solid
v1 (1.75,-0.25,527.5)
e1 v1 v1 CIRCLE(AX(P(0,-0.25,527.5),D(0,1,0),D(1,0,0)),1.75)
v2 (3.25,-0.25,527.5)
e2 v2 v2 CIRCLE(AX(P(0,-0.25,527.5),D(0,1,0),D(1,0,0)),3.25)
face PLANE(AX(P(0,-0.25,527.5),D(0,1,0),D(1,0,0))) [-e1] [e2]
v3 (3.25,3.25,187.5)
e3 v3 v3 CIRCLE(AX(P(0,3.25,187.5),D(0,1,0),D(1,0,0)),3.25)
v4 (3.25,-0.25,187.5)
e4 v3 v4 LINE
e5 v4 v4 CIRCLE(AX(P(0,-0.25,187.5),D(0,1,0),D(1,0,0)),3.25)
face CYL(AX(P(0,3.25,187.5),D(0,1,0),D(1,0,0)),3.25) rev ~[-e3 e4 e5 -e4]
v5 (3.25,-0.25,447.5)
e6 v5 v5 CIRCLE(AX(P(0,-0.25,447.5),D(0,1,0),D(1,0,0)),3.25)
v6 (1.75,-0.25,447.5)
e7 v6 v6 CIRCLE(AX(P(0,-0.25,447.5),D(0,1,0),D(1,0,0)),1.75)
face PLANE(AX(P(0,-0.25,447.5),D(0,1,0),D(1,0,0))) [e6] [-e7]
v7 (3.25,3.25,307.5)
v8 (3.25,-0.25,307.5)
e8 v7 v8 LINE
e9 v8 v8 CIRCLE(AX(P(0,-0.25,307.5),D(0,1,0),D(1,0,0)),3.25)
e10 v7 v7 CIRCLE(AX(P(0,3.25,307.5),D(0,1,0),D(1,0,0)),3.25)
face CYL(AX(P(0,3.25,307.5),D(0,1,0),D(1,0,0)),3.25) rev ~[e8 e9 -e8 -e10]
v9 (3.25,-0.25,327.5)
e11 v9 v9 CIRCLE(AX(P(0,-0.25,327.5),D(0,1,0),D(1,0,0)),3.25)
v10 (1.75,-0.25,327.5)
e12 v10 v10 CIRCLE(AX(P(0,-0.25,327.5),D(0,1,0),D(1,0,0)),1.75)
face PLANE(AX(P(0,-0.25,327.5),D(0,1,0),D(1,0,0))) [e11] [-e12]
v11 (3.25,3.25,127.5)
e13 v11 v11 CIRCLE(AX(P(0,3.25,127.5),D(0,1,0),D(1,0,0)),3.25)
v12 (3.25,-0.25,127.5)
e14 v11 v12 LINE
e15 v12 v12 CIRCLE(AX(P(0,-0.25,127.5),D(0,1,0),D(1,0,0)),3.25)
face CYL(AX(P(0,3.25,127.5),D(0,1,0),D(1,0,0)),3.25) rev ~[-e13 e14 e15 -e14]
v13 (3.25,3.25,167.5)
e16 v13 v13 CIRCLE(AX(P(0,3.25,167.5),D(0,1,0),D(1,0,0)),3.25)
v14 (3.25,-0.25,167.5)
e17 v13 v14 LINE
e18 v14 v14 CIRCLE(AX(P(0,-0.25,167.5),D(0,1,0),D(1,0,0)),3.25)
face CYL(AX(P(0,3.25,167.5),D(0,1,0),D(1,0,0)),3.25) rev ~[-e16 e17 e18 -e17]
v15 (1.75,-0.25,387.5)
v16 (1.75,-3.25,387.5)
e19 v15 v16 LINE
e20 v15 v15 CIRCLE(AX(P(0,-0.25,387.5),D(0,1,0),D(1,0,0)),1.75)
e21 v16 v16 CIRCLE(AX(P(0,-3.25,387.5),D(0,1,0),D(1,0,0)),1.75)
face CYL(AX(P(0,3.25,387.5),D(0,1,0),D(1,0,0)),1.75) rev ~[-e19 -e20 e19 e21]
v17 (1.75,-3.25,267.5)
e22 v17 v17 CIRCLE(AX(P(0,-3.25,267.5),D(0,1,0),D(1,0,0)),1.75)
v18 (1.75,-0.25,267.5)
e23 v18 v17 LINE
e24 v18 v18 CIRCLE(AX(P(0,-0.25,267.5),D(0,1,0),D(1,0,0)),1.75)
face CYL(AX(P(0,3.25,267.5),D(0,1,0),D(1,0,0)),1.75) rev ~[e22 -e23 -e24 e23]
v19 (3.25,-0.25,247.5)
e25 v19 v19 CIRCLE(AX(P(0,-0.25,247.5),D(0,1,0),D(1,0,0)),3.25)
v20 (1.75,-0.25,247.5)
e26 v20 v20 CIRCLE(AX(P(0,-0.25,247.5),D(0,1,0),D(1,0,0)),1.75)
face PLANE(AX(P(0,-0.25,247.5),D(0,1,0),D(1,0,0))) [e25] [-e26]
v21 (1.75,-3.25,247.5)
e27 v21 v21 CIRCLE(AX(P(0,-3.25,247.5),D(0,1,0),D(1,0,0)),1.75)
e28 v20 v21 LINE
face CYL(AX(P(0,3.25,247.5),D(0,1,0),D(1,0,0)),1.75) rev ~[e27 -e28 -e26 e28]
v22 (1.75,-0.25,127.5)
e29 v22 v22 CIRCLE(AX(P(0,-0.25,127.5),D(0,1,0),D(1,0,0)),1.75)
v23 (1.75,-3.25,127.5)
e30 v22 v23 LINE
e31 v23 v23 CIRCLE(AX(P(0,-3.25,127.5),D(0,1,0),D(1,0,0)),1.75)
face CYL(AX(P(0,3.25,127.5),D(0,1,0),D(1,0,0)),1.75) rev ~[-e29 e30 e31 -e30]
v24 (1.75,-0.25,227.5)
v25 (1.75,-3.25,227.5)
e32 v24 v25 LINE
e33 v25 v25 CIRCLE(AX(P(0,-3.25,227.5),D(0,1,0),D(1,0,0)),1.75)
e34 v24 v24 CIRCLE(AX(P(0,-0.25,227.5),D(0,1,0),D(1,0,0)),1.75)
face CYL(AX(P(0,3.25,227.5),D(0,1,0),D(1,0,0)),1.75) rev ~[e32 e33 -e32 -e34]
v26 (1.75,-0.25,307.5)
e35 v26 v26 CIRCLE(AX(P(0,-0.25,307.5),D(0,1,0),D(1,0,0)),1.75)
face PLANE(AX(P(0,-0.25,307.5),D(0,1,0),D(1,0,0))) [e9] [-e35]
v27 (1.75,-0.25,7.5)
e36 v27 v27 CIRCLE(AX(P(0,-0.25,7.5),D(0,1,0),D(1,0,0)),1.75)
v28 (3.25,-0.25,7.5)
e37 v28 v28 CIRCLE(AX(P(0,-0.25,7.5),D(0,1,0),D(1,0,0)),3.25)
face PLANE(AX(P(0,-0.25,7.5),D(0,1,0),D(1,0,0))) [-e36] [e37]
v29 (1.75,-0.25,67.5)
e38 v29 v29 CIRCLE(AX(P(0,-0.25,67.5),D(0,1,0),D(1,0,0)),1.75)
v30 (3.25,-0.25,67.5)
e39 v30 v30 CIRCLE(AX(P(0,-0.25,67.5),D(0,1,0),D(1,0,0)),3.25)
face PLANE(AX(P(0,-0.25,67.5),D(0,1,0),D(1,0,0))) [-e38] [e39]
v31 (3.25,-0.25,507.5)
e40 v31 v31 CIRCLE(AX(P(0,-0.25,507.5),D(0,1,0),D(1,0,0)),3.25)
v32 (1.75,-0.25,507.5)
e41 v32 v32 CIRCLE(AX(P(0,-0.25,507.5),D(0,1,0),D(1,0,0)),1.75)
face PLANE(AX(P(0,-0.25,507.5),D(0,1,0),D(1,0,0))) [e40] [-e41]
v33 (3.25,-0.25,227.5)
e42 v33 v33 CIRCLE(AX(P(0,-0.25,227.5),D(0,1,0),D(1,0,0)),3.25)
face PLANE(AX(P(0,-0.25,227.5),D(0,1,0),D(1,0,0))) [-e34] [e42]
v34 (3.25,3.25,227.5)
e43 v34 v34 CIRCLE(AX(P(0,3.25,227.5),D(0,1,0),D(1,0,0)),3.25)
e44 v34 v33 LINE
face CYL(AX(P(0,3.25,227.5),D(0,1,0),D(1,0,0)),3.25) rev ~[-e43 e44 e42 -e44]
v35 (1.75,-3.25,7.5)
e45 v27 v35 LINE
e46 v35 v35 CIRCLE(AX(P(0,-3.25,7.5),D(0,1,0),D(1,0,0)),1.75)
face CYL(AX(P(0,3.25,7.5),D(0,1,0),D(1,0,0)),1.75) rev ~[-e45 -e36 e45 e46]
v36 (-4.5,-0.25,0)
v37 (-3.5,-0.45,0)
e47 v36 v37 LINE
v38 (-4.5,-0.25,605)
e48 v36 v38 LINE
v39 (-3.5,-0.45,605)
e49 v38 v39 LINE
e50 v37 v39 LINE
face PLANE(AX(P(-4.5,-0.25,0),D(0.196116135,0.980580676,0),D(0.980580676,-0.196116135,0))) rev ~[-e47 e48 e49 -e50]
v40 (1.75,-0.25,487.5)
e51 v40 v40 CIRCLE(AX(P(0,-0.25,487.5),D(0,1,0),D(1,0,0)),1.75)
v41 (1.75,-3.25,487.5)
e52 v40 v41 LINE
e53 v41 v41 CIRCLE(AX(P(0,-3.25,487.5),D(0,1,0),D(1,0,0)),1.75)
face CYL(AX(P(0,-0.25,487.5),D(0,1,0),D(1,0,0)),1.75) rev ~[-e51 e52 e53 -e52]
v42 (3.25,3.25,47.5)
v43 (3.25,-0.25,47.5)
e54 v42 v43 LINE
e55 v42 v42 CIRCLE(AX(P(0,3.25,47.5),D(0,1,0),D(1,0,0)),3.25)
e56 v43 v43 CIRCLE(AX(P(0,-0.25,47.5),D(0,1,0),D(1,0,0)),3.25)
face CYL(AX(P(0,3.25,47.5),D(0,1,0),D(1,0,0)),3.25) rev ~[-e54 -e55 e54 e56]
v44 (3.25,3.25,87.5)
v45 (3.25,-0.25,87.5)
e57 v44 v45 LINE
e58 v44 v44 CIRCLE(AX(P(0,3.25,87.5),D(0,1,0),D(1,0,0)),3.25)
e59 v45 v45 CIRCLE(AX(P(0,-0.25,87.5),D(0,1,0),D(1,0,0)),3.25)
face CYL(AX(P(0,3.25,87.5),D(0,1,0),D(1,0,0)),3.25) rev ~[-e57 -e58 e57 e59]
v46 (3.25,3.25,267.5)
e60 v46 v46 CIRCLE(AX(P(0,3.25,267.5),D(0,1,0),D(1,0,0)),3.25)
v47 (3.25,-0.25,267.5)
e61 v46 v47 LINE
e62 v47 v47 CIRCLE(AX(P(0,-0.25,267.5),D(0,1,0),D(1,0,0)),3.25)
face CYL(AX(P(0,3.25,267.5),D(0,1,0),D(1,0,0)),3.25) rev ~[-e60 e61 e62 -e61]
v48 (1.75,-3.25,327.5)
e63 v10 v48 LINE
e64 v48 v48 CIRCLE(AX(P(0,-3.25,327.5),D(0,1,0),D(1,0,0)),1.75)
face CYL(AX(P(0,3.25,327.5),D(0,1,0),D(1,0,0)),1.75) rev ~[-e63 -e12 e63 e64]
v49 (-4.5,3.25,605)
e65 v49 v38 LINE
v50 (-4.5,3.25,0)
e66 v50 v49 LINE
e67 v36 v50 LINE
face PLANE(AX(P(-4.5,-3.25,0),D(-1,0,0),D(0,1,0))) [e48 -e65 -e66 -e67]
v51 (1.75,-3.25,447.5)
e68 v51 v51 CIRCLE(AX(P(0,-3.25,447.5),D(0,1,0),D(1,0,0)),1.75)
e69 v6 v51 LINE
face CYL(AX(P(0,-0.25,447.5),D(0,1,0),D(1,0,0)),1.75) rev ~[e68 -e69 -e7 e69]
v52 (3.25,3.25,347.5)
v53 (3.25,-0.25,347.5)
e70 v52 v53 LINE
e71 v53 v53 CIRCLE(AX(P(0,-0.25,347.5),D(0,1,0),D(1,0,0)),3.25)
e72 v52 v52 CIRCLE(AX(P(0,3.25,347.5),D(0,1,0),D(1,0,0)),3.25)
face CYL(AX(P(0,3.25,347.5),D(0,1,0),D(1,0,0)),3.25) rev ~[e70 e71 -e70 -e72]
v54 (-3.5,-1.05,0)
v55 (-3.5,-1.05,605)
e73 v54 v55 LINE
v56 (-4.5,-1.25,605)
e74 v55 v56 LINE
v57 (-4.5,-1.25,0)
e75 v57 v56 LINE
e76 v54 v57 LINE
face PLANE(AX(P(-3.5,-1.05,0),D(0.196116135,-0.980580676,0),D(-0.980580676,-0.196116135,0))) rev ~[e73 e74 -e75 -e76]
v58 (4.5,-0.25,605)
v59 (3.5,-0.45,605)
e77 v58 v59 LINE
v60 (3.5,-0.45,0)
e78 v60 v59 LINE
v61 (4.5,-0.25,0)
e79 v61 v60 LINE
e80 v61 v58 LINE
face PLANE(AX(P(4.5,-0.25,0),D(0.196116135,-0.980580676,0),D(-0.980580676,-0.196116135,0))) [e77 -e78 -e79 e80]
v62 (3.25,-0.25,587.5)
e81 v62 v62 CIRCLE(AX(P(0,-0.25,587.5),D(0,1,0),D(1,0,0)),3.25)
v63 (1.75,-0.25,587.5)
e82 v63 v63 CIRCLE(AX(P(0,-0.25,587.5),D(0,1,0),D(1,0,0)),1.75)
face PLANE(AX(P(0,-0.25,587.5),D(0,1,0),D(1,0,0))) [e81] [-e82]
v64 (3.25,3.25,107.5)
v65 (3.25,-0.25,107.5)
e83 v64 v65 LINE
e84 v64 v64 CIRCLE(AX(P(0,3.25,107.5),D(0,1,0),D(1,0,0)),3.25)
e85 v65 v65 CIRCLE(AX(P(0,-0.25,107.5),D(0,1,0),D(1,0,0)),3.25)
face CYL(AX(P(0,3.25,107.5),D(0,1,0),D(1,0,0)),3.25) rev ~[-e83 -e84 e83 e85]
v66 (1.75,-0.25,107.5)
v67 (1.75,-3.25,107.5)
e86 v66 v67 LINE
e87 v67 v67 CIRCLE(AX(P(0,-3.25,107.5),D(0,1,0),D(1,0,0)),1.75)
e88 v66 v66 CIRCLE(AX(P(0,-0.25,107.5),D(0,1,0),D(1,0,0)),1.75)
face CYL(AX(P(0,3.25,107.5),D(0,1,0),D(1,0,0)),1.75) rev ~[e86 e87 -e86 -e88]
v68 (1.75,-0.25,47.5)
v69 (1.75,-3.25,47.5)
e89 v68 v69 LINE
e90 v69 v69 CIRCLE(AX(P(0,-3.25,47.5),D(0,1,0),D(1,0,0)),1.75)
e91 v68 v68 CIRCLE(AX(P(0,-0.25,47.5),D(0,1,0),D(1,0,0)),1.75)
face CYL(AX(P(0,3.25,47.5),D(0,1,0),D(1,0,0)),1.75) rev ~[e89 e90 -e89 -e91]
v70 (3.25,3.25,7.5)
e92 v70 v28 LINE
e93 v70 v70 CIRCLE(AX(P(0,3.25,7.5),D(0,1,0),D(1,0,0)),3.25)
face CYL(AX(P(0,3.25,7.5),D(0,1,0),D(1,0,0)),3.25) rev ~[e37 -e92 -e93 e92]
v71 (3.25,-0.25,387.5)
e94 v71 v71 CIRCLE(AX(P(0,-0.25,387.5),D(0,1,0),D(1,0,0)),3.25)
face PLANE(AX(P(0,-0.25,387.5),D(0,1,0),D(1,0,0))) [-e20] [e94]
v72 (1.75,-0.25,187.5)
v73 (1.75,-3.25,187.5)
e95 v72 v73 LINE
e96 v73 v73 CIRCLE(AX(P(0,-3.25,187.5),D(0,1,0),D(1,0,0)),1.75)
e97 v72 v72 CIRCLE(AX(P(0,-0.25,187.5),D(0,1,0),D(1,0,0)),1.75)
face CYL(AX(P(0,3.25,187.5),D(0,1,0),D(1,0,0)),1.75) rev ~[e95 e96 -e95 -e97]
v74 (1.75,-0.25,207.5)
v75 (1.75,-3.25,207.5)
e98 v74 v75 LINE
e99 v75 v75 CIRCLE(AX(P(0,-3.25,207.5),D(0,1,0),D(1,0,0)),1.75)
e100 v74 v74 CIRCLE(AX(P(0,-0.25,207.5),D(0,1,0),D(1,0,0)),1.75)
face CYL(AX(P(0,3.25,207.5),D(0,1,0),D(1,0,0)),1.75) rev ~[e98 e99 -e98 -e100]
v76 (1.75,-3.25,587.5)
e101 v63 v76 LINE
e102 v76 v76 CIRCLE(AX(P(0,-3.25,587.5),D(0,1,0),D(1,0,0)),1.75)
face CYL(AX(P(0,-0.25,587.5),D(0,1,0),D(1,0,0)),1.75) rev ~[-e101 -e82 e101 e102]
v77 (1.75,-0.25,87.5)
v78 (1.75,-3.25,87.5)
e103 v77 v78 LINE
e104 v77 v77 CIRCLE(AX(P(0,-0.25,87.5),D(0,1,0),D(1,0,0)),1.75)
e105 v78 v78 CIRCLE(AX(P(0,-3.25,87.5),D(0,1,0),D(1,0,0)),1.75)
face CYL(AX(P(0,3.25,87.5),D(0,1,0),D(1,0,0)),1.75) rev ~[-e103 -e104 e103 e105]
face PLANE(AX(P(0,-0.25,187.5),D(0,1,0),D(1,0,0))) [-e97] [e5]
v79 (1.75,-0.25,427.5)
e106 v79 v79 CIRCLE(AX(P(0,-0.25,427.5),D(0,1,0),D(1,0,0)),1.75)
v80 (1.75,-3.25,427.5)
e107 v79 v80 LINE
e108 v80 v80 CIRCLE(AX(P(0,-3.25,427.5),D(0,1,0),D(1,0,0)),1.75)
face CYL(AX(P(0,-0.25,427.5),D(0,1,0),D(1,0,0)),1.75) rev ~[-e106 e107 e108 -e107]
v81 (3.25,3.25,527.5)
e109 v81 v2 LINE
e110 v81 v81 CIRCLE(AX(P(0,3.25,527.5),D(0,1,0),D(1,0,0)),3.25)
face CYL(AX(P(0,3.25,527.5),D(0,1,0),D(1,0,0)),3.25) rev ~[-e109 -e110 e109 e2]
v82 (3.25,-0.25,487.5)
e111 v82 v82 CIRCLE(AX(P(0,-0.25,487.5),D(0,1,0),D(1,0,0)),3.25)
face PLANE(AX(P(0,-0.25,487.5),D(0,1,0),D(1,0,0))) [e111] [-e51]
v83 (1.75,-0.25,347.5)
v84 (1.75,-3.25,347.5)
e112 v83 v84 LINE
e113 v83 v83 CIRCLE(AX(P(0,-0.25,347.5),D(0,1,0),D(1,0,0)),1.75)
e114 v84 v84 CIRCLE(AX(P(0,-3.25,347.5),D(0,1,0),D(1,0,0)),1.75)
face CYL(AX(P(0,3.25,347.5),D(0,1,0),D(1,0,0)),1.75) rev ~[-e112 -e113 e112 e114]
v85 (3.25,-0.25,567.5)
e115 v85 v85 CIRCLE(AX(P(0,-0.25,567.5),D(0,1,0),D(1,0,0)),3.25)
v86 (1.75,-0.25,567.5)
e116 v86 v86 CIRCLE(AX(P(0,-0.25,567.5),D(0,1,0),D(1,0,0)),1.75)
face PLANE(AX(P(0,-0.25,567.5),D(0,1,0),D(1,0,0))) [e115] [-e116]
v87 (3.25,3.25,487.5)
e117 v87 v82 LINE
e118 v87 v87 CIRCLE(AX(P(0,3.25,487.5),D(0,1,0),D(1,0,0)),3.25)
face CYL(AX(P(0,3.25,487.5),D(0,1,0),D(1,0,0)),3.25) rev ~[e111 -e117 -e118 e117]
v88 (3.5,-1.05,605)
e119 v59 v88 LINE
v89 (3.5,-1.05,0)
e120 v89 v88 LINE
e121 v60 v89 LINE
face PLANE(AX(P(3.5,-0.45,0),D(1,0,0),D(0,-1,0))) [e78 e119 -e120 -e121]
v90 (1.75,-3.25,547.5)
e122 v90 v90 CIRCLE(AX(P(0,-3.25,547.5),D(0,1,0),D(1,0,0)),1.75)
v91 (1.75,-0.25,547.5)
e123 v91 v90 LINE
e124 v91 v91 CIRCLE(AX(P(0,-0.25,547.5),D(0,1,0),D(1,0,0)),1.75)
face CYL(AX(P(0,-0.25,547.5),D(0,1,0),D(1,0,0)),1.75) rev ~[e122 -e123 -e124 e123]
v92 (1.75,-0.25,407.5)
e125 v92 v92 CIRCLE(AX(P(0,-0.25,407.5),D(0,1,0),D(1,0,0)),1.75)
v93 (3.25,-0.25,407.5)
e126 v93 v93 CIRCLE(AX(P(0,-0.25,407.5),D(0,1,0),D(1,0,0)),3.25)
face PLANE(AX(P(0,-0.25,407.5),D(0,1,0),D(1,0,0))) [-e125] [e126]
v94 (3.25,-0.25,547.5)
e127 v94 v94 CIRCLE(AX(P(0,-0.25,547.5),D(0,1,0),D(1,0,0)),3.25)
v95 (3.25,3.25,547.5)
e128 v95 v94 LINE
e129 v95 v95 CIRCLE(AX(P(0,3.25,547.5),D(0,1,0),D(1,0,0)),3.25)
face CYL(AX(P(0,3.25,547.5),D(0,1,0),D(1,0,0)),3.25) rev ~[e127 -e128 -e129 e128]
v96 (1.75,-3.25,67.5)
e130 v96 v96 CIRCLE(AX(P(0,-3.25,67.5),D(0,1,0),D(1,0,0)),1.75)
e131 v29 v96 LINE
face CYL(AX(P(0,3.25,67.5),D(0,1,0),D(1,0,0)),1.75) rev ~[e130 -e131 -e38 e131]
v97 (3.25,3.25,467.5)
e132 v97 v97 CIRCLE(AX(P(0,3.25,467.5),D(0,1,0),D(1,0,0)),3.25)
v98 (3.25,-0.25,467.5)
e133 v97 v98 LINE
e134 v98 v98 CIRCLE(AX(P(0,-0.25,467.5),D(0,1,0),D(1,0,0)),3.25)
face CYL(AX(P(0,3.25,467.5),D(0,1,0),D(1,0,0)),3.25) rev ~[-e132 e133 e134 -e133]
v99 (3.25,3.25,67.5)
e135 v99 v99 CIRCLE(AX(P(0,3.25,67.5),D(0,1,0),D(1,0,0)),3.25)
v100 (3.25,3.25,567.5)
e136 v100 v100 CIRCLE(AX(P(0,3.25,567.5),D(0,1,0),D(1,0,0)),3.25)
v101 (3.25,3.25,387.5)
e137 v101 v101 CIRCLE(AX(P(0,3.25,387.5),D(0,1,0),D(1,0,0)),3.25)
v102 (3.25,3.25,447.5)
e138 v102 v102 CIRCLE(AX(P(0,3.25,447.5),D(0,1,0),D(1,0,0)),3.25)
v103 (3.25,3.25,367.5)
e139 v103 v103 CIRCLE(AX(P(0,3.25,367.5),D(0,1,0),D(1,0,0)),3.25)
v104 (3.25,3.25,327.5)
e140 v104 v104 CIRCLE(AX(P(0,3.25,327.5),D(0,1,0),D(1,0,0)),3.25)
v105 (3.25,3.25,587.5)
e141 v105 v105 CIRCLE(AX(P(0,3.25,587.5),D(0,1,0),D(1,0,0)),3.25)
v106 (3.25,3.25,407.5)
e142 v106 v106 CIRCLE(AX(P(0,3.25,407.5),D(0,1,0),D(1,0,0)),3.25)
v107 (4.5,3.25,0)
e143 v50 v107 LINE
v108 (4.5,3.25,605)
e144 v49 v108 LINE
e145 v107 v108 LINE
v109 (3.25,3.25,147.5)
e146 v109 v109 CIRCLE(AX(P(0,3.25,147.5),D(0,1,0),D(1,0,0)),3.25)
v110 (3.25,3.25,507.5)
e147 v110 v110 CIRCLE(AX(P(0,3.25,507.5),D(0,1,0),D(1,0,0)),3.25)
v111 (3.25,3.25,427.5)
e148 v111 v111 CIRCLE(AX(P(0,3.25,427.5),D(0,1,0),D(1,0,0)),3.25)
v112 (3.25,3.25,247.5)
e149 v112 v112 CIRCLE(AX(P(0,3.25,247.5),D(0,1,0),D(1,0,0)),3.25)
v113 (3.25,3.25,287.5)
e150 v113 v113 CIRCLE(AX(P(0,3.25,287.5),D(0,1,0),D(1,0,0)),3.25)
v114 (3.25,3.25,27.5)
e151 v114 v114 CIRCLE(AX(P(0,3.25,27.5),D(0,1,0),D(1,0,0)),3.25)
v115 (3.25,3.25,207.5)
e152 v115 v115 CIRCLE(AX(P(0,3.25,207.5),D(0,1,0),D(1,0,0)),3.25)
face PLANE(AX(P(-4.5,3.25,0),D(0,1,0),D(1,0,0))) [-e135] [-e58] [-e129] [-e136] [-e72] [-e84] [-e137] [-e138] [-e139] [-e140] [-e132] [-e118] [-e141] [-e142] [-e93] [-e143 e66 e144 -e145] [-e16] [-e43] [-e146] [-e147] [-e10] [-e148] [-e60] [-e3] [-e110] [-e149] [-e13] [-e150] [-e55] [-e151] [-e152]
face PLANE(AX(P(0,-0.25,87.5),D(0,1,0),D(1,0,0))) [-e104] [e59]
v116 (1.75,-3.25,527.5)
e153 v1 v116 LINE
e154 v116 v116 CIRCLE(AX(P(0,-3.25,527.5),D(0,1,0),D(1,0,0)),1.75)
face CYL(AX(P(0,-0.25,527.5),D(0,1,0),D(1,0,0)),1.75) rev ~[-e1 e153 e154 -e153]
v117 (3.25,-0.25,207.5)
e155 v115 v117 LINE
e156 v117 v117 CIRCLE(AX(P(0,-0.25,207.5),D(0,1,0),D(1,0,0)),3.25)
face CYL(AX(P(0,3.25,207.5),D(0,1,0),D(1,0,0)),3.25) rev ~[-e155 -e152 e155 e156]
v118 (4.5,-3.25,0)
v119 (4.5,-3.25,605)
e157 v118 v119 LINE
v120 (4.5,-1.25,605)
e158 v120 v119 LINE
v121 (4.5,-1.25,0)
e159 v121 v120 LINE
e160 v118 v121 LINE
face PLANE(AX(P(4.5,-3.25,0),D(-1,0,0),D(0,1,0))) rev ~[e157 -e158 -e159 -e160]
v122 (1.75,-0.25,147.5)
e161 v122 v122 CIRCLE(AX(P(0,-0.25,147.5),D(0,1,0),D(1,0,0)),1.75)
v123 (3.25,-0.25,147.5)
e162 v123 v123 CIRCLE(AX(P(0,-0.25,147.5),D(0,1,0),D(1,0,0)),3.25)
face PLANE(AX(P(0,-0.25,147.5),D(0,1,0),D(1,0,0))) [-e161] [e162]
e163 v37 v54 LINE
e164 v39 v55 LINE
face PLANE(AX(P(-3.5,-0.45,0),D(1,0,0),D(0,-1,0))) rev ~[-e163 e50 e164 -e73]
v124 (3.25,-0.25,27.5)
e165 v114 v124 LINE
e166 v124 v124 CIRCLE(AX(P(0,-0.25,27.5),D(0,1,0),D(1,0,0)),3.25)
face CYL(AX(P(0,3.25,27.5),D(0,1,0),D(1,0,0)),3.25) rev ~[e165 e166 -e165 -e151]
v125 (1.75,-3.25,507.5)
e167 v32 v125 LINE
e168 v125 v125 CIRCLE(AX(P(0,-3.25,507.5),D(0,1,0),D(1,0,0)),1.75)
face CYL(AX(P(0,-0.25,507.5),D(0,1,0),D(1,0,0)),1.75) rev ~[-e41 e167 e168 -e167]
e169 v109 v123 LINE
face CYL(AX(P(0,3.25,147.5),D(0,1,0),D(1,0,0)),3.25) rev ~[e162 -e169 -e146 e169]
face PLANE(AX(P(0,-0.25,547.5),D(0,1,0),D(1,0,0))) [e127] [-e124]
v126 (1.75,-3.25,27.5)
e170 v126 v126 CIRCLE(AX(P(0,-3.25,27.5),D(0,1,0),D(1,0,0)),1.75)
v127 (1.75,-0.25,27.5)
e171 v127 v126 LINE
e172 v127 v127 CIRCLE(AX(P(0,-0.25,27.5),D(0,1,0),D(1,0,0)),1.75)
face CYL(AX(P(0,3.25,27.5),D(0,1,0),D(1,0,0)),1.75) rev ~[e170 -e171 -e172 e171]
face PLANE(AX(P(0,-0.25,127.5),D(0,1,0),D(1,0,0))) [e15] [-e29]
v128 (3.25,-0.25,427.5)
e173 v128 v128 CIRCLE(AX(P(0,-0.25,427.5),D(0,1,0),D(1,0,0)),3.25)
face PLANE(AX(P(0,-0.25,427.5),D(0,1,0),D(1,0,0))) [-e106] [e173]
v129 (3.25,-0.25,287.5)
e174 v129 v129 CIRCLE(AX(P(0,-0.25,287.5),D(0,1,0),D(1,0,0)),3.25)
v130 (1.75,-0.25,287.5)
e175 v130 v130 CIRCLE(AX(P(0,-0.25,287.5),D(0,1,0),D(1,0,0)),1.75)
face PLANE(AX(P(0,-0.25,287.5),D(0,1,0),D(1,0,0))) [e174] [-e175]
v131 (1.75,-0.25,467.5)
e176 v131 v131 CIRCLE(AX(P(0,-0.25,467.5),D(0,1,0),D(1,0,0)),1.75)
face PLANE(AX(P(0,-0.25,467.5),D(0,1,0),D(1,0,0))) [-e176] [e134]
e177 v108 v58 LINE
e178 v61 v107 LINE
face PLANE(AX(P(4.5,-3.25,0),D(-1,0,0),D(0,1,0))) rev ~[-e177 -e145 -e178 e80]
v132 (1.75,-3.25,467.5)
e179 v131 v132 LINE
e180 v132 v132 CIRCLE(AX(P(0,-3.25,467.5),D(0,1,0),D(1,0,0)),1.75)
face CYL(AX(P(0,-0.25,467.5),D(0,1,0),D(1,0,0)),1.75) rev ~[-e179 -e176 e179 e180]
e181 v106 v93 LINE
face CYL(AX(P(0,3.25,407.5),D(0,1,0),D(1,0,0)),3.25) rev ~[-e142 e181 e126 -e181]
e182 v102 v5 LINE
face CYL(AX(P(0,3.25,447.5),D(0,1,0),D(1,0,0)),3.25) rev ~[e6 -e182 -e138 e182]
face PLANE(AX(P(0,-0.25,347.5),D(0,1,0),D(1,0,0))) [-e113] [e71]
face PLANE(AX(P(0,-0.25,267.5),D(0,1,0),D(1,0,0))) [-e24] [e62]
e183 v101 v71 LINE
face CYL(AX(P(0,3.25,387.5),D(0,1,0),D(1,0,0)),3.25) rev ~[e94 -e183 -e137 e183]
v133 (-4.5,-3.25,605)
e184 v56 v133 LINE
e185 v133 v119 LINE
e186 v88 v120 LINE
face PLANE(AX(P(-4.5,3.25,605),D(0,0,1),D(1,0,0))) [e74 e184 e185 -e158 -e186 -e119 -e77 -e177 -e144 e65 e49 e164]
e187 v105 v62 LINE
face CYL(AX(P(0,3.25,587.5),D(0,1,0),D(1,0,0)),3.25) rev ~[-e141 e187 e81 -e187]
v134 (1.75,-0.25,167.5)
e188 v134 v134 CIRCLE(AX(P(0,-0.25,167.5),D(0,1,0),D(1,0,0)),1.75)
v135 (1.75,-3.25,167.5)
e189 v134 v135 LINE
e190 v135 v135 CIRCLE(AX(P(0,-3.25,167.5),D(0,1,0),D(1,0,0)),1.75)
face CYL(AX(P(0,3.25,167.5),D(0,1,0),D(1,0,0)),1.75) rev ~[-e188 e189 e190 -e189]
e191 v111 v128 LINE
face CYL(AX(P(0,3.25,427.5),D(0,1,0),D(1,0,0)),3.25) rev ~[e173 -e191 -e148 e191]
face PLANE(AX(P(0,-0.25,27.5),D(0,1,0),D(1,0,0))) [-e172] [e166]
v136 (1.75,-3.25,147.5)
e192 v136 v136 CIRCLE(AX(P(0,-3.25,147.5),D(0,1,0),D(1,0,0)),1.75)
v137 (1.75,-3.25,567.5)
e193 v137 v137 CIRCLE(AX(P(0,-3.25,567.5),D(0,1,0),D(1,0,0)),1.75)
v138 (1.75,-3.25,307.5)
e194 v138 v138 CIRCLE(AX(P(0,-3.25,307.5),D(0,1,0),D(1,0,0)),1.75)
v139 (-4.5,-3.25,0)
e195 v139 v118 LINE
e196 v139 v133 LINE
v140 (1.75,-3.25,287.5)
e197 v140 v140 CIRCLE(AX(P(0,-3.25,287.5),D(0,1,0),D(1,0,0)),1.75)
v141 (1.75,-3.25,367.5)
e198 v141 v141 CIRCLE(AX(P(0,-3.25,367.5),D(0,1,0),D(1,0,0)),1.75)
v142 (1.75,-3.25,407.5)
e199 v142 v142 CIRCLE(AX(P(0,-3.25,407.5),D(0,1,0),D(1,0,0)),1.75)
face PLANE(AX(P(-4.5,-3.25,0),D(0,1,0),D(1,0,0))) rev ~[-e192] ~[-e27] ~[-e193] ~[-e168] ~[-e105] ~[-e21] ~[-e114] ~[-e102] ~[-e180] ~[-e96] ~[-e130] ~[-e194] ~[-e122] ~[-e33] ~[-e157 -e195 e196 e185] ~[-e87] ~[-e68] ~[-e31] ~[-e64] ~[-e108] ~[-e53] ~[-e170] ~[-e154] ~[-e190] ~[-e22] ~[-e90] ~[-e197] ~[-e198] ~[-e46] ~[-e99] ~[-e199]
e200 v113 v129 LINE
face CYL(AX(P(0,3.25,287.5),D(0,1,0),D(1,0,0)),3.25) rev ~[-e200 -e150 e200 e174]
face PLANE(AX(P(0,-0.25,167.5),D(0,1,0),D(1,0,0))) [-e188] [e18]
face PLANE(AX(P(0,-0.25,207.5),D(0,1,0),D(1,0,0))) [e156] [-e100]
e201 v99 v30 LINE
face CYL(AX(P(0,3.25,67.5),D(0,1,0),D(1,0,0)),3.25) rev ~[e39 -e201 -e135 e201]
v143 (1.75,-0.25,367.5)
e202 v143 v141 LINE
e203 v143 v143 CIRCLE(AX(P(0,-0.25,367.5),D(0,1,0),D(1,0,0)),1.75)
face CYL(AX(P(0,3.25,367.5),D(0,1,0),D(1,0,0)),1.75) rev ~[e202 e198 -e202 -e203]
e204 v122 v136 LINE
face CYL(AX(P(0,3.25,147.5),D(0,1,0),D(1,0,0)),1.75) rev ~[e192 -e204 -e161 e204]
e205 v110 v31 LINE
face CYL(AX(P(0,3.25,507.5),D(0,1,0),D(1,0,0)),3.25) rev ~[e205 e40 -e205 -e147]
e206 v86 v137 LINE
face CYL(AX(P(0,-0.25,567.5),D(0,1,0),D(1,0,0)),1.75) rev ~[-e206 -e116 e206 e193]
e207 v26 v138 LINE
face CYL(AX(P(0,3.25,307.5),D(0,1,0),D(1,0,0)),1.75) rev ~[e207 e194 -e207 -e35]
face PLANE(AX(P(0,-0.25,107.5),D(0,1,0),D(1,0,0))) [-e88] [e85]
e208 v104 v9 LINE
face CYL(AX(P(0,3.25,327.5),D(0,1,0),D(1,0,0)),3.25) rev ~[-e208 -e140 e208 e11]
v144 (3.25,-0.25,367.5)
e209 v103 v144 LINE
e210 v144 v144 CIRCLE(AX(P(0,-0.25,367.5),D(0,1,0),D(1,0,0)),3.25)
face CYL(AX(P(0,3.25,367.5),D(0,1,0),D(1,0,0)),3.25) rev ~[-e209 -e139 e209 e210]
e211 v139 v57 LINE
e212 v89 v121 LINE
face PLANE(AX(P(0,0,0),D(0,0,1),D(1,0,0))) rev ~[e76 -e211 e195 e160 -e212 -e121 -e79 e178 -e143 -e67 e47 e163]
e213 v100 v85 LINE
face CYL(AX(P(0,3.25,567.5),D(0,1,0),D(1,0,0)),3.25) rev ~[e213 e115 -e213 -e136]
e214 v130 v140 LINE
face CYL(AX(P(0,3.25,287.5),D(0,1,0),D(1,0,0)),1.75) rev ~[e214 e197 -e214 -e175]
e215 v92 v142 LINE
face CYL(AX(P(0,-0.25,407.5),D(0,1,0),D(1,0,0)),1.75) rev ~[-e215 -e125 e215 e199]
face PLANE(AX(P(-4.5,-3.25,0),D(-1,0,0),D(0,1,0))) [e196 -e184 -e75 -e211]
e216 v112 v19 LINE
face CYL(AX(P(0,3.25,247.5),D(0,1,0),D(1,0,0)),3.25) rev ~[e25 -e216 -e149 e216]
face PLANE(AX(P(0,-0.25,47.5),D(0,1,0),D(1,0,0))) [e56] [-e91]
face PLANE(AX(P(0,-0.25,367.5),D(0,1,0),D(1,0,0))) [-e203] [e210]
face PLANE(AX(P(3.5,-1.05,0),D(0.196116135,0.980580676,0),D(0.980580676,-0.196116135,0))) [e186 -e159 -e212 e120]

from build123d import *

# Parameters (mm, degrees)
SKETCH_1_W          = 9
SKETCH_1_H          = 6.5
EXTRUDE_1_DEPTH     = 608
SKETCH_2_R          = 1.75
CUT_EXTRUDE_1_DEPTH = 7.5
SKETCH_3_R          = 3.25
CUT_EXTRUDE_2_DEPTH = 3.5
CUT_EXTRUDE_3_DEPTH = 609
SKETCH_5_R          = 3.25
CUT_EXTRUDE_4_DEPTH = 3.5
SKETCH_6_R          = 1.75
CUT_EXTRUDE_5_DEPTH = 4
SKETCH_7_W          = 9
SKETCH_7_H          = 3
CUT_EXTRUDE_6_DEPTH = 7.5


with BuildPart() as part:
    # 草图1 → 凸台-拉伸1 (new body)
    with BuildSketch(Plane.XY):
        Rectangle(SKETCH_1_W, SKETCH_1_H)
    extrude(amount=EXTRUDE_1_DEPTH)

    # 草图2 → 切除-拉伸1 (cut, through all)
    with BuildSketch(Plane(origin=(0, 3.25, 0), x_dir=(1, 0, 0), z_dir=(0, 1, 0))):
        with Locations((0, -7.5)):
            Circle(SKETCH_2_R)
        with Locations((0, -27.5)):
            Circle(SKETCH_2_R)
        with Locations((0, -47.5)):
            Circle(SKETCH_2_R)
        with Locations((0, -67.5)):
            Circle(SKETCH_2_R)
        with Locations((0, -87.5)):
            Circle(SKETCH_2_R)
        with Locations((0, -107.5)):
            Circle(SKETCH_2_R)
        with Locations((0, -127.5)):
            Circle(SKETCH_2_R)
        with Locations((0, -147.5)):
            Circle(SKETCH_2_R)
        with Locations((0, -167.5)):
            Circle(SKETCH_2_R)
        with Locations((0, -187.5)):
            Circle(SKETCH_2_R)
        with Locations((0, -207.5)):
            Circle(SKETCH_2_R)
        with Locations((0, -227.5)):
            Circle(SKETCH_2_R)
        with Locations((0, -247.5)):
            Circle(SKETCH_2_R)
        with Locations((0, -267.5)):
            Circle(SKETCH_2_R)
        with Locations((0, -287.5)):
            Circle(SKETCH_2_R)
        with Locations((0, -307.5)):
            Circle(SKETCH_2_R)
        with Locations((0, -327.5)):
            Circle(SKETCH_2_R)
        with Locations((0, -347.5)):
            Circle(SKETCH_2_R)
        with Locations((0, -367.5)):
            Circle(SKETCH_2_R)
        with Locations((0, -387.5)):
            Circle(SKETCH_2_R)
    extrude(amount=-CUT_EXTRUDE_1_DEPTH, mode=Mode.SUBTRACT)

    # 草图3 → 切除-拉伸2 (cut)
    with BuildSketch(Plane(origin=(0, 3.25, 0), x_dir=(1, 0, 0), z_dir=(0, 1, 0))):
        with Locations((0, -7.5)):
            Circle(SKETCH_3_R)
        with Locations((0, -27.5)):
            Circle(SKETCH_3_R)
        with Locations((0, -47.5)):
            Circle(SKETCH_3_R)
        with Locations((0, -67.5)):
            Circle(SKETCH_3_R)
        with Locations((0, -87.5)):
            Circle(SKETCH_3_R)
        with Locations((0, -107.5)):
            Circle(SKETCH_3_R)
        with Locations((0, -127.5)):
            Circle(SKETCH_3_R)
        with Locations((0, -147.5)):
            Circle(SKETCH_3_R)
        with Locations((0, -167.5)):
            Circle(SKETCH_3_R)
        with Locations((0, -187.5)):
            Circle(SKETCH_3_R)
        with Locations((0, -207.5)):
            Circle(SKETCH_3_R)
        with Locations((0, -227.5)):
            Circle(SKETCH_3_R)
        with Locations((0, -247.5)):
            Circle(SKETCH_3_R)
        with Locations((0, -267.5)):
            Circle(SKETCH_3_R)
        with Locations((0, -287.5)):
            Circle(SKETCH_3_R)
        with Locations((0, -307.5)):
            Circle(SKETCH_3_R)
        with Locations((0, -327.5)):
            Circle(SKETCH_3_R)
        with Locations((0, -347.5)):
            Circle(SKETCH_3_R)
        with Locations((0, -367.5)):
            Circle(SKETCH_3_R)
        with Locations((0, -387.5)):
            Circle(SKETCH_3_R)
    extrude(amount=-CUT_EXTRUDE_2_DEPTH, mode=Mode.SUBTRACT)

    # 草图4 → 切除-拉伸3 (cut, through all)
    with BuildSketch(Plane(origin=(0, 0, 0), x_dir=(-1, 0, 0), z_dir=(0, 0, -1))):
        Polygon((4.5, -0.25), (3.5, -0.45), (3.5, -1.05), (4.5, -1.25), align=None)
        Polygon((-4.5, -0.25), (-3.5, -0.45), (-3.5, -1.05), (-4.5, -1.25), align=None)
    extrude(amount=-CUT_EXTRUDE_3_DEPTH, mode=Mode.SUBTRACT)

    # 草图5 → 切除-拉伸4 (cut)
    with BuildSketch(Plane(origin=(0, 3.25, 0), x_dir=(1, 0, 0), z_dir=(0, 1, 0))):
        with Locations((0, -407.5)):
            Circle(SKETCH_5_R)
        with Locations((0, -427.5)):
            Circle(SKETCH_5_R)
        with Locations((0, -447.5)):
            Circle(SKETCH_5_R)
        with Locations((0, -467.5)):
            Circle(SKETCH_5_R)
        with Locations((0, -487.5)):
            Circle(SKETCH_5_R)
        with Locations((0, -507.5)):
            Circle(SKETCH_5_R)
        with Locations((0, -527.5)):
            Circle(SKETCH_5_R)
        with Locations((0, -547.5)):
            Circle(SKETCH_5_R)
        with Locations((0, -567.5)):
            Circle(SKETCH_5_R)
        with Locations((0, -587.5)):
            Circle(SKETCH_5_R)
    extrude(amount=-CUT_EXTRUDE_4_DEPTH, mode=Mode.SUBTRACT)

    # 草图6 → 切除-拉伸5 (cut, through all)
    with BuildSketch(Plane(origin=(0, -0.25, 0), x_dir=(1, 0, 0), z_dir=(0, 1, 0))):
        with Locations((0, -407.5)):
            Circle(SKETCH_6_R)
        with Locations((0, -427.5)):
            Circle(SKETCH_6_R)
        with Locations((0, -447.5)):
            Circle(SKETCH_6_R)
        with Locations((0, -467.5)):
            Circle(SKETCH_6_R)
        with Locations((0, -487.5)):
            Circle(SKETCH_6_R)
        with Locations((0, -507.5)):
            Circle(SKETCH_6_R)
        with Locations((0, -527.5)):
            Circle(SKETCH_6_R)
        with Locations((0, -547.5)):
            Circle(SKETCH_6_R)
        with Locations((0, -567.5)):
            Circle(SKETCH_6_R)
        with Locations((0, -587.5)):
            Circle(SKETCH_6_R)
    extrude(amount=-CUT_EXTRUDE_5_DEPTH, mode=Mode.SUBTRACT)

    # 草图7 → 切除-拉伸6 (cut, through all)
    with BuildSketch(Plane(origin=(0, 3.25, 0), x_dir=(1, 0, 0), z_dir=(0, 1, 0))):
        with Locations((0, -606.5)):
            Rectangle(SKETCH_7_W, SKETCH_7_H)
    extrude(amount=-CUT_EXTRUDE_6_DEPTH, mode=Mode.SUBTRACT)


solid = part.part
